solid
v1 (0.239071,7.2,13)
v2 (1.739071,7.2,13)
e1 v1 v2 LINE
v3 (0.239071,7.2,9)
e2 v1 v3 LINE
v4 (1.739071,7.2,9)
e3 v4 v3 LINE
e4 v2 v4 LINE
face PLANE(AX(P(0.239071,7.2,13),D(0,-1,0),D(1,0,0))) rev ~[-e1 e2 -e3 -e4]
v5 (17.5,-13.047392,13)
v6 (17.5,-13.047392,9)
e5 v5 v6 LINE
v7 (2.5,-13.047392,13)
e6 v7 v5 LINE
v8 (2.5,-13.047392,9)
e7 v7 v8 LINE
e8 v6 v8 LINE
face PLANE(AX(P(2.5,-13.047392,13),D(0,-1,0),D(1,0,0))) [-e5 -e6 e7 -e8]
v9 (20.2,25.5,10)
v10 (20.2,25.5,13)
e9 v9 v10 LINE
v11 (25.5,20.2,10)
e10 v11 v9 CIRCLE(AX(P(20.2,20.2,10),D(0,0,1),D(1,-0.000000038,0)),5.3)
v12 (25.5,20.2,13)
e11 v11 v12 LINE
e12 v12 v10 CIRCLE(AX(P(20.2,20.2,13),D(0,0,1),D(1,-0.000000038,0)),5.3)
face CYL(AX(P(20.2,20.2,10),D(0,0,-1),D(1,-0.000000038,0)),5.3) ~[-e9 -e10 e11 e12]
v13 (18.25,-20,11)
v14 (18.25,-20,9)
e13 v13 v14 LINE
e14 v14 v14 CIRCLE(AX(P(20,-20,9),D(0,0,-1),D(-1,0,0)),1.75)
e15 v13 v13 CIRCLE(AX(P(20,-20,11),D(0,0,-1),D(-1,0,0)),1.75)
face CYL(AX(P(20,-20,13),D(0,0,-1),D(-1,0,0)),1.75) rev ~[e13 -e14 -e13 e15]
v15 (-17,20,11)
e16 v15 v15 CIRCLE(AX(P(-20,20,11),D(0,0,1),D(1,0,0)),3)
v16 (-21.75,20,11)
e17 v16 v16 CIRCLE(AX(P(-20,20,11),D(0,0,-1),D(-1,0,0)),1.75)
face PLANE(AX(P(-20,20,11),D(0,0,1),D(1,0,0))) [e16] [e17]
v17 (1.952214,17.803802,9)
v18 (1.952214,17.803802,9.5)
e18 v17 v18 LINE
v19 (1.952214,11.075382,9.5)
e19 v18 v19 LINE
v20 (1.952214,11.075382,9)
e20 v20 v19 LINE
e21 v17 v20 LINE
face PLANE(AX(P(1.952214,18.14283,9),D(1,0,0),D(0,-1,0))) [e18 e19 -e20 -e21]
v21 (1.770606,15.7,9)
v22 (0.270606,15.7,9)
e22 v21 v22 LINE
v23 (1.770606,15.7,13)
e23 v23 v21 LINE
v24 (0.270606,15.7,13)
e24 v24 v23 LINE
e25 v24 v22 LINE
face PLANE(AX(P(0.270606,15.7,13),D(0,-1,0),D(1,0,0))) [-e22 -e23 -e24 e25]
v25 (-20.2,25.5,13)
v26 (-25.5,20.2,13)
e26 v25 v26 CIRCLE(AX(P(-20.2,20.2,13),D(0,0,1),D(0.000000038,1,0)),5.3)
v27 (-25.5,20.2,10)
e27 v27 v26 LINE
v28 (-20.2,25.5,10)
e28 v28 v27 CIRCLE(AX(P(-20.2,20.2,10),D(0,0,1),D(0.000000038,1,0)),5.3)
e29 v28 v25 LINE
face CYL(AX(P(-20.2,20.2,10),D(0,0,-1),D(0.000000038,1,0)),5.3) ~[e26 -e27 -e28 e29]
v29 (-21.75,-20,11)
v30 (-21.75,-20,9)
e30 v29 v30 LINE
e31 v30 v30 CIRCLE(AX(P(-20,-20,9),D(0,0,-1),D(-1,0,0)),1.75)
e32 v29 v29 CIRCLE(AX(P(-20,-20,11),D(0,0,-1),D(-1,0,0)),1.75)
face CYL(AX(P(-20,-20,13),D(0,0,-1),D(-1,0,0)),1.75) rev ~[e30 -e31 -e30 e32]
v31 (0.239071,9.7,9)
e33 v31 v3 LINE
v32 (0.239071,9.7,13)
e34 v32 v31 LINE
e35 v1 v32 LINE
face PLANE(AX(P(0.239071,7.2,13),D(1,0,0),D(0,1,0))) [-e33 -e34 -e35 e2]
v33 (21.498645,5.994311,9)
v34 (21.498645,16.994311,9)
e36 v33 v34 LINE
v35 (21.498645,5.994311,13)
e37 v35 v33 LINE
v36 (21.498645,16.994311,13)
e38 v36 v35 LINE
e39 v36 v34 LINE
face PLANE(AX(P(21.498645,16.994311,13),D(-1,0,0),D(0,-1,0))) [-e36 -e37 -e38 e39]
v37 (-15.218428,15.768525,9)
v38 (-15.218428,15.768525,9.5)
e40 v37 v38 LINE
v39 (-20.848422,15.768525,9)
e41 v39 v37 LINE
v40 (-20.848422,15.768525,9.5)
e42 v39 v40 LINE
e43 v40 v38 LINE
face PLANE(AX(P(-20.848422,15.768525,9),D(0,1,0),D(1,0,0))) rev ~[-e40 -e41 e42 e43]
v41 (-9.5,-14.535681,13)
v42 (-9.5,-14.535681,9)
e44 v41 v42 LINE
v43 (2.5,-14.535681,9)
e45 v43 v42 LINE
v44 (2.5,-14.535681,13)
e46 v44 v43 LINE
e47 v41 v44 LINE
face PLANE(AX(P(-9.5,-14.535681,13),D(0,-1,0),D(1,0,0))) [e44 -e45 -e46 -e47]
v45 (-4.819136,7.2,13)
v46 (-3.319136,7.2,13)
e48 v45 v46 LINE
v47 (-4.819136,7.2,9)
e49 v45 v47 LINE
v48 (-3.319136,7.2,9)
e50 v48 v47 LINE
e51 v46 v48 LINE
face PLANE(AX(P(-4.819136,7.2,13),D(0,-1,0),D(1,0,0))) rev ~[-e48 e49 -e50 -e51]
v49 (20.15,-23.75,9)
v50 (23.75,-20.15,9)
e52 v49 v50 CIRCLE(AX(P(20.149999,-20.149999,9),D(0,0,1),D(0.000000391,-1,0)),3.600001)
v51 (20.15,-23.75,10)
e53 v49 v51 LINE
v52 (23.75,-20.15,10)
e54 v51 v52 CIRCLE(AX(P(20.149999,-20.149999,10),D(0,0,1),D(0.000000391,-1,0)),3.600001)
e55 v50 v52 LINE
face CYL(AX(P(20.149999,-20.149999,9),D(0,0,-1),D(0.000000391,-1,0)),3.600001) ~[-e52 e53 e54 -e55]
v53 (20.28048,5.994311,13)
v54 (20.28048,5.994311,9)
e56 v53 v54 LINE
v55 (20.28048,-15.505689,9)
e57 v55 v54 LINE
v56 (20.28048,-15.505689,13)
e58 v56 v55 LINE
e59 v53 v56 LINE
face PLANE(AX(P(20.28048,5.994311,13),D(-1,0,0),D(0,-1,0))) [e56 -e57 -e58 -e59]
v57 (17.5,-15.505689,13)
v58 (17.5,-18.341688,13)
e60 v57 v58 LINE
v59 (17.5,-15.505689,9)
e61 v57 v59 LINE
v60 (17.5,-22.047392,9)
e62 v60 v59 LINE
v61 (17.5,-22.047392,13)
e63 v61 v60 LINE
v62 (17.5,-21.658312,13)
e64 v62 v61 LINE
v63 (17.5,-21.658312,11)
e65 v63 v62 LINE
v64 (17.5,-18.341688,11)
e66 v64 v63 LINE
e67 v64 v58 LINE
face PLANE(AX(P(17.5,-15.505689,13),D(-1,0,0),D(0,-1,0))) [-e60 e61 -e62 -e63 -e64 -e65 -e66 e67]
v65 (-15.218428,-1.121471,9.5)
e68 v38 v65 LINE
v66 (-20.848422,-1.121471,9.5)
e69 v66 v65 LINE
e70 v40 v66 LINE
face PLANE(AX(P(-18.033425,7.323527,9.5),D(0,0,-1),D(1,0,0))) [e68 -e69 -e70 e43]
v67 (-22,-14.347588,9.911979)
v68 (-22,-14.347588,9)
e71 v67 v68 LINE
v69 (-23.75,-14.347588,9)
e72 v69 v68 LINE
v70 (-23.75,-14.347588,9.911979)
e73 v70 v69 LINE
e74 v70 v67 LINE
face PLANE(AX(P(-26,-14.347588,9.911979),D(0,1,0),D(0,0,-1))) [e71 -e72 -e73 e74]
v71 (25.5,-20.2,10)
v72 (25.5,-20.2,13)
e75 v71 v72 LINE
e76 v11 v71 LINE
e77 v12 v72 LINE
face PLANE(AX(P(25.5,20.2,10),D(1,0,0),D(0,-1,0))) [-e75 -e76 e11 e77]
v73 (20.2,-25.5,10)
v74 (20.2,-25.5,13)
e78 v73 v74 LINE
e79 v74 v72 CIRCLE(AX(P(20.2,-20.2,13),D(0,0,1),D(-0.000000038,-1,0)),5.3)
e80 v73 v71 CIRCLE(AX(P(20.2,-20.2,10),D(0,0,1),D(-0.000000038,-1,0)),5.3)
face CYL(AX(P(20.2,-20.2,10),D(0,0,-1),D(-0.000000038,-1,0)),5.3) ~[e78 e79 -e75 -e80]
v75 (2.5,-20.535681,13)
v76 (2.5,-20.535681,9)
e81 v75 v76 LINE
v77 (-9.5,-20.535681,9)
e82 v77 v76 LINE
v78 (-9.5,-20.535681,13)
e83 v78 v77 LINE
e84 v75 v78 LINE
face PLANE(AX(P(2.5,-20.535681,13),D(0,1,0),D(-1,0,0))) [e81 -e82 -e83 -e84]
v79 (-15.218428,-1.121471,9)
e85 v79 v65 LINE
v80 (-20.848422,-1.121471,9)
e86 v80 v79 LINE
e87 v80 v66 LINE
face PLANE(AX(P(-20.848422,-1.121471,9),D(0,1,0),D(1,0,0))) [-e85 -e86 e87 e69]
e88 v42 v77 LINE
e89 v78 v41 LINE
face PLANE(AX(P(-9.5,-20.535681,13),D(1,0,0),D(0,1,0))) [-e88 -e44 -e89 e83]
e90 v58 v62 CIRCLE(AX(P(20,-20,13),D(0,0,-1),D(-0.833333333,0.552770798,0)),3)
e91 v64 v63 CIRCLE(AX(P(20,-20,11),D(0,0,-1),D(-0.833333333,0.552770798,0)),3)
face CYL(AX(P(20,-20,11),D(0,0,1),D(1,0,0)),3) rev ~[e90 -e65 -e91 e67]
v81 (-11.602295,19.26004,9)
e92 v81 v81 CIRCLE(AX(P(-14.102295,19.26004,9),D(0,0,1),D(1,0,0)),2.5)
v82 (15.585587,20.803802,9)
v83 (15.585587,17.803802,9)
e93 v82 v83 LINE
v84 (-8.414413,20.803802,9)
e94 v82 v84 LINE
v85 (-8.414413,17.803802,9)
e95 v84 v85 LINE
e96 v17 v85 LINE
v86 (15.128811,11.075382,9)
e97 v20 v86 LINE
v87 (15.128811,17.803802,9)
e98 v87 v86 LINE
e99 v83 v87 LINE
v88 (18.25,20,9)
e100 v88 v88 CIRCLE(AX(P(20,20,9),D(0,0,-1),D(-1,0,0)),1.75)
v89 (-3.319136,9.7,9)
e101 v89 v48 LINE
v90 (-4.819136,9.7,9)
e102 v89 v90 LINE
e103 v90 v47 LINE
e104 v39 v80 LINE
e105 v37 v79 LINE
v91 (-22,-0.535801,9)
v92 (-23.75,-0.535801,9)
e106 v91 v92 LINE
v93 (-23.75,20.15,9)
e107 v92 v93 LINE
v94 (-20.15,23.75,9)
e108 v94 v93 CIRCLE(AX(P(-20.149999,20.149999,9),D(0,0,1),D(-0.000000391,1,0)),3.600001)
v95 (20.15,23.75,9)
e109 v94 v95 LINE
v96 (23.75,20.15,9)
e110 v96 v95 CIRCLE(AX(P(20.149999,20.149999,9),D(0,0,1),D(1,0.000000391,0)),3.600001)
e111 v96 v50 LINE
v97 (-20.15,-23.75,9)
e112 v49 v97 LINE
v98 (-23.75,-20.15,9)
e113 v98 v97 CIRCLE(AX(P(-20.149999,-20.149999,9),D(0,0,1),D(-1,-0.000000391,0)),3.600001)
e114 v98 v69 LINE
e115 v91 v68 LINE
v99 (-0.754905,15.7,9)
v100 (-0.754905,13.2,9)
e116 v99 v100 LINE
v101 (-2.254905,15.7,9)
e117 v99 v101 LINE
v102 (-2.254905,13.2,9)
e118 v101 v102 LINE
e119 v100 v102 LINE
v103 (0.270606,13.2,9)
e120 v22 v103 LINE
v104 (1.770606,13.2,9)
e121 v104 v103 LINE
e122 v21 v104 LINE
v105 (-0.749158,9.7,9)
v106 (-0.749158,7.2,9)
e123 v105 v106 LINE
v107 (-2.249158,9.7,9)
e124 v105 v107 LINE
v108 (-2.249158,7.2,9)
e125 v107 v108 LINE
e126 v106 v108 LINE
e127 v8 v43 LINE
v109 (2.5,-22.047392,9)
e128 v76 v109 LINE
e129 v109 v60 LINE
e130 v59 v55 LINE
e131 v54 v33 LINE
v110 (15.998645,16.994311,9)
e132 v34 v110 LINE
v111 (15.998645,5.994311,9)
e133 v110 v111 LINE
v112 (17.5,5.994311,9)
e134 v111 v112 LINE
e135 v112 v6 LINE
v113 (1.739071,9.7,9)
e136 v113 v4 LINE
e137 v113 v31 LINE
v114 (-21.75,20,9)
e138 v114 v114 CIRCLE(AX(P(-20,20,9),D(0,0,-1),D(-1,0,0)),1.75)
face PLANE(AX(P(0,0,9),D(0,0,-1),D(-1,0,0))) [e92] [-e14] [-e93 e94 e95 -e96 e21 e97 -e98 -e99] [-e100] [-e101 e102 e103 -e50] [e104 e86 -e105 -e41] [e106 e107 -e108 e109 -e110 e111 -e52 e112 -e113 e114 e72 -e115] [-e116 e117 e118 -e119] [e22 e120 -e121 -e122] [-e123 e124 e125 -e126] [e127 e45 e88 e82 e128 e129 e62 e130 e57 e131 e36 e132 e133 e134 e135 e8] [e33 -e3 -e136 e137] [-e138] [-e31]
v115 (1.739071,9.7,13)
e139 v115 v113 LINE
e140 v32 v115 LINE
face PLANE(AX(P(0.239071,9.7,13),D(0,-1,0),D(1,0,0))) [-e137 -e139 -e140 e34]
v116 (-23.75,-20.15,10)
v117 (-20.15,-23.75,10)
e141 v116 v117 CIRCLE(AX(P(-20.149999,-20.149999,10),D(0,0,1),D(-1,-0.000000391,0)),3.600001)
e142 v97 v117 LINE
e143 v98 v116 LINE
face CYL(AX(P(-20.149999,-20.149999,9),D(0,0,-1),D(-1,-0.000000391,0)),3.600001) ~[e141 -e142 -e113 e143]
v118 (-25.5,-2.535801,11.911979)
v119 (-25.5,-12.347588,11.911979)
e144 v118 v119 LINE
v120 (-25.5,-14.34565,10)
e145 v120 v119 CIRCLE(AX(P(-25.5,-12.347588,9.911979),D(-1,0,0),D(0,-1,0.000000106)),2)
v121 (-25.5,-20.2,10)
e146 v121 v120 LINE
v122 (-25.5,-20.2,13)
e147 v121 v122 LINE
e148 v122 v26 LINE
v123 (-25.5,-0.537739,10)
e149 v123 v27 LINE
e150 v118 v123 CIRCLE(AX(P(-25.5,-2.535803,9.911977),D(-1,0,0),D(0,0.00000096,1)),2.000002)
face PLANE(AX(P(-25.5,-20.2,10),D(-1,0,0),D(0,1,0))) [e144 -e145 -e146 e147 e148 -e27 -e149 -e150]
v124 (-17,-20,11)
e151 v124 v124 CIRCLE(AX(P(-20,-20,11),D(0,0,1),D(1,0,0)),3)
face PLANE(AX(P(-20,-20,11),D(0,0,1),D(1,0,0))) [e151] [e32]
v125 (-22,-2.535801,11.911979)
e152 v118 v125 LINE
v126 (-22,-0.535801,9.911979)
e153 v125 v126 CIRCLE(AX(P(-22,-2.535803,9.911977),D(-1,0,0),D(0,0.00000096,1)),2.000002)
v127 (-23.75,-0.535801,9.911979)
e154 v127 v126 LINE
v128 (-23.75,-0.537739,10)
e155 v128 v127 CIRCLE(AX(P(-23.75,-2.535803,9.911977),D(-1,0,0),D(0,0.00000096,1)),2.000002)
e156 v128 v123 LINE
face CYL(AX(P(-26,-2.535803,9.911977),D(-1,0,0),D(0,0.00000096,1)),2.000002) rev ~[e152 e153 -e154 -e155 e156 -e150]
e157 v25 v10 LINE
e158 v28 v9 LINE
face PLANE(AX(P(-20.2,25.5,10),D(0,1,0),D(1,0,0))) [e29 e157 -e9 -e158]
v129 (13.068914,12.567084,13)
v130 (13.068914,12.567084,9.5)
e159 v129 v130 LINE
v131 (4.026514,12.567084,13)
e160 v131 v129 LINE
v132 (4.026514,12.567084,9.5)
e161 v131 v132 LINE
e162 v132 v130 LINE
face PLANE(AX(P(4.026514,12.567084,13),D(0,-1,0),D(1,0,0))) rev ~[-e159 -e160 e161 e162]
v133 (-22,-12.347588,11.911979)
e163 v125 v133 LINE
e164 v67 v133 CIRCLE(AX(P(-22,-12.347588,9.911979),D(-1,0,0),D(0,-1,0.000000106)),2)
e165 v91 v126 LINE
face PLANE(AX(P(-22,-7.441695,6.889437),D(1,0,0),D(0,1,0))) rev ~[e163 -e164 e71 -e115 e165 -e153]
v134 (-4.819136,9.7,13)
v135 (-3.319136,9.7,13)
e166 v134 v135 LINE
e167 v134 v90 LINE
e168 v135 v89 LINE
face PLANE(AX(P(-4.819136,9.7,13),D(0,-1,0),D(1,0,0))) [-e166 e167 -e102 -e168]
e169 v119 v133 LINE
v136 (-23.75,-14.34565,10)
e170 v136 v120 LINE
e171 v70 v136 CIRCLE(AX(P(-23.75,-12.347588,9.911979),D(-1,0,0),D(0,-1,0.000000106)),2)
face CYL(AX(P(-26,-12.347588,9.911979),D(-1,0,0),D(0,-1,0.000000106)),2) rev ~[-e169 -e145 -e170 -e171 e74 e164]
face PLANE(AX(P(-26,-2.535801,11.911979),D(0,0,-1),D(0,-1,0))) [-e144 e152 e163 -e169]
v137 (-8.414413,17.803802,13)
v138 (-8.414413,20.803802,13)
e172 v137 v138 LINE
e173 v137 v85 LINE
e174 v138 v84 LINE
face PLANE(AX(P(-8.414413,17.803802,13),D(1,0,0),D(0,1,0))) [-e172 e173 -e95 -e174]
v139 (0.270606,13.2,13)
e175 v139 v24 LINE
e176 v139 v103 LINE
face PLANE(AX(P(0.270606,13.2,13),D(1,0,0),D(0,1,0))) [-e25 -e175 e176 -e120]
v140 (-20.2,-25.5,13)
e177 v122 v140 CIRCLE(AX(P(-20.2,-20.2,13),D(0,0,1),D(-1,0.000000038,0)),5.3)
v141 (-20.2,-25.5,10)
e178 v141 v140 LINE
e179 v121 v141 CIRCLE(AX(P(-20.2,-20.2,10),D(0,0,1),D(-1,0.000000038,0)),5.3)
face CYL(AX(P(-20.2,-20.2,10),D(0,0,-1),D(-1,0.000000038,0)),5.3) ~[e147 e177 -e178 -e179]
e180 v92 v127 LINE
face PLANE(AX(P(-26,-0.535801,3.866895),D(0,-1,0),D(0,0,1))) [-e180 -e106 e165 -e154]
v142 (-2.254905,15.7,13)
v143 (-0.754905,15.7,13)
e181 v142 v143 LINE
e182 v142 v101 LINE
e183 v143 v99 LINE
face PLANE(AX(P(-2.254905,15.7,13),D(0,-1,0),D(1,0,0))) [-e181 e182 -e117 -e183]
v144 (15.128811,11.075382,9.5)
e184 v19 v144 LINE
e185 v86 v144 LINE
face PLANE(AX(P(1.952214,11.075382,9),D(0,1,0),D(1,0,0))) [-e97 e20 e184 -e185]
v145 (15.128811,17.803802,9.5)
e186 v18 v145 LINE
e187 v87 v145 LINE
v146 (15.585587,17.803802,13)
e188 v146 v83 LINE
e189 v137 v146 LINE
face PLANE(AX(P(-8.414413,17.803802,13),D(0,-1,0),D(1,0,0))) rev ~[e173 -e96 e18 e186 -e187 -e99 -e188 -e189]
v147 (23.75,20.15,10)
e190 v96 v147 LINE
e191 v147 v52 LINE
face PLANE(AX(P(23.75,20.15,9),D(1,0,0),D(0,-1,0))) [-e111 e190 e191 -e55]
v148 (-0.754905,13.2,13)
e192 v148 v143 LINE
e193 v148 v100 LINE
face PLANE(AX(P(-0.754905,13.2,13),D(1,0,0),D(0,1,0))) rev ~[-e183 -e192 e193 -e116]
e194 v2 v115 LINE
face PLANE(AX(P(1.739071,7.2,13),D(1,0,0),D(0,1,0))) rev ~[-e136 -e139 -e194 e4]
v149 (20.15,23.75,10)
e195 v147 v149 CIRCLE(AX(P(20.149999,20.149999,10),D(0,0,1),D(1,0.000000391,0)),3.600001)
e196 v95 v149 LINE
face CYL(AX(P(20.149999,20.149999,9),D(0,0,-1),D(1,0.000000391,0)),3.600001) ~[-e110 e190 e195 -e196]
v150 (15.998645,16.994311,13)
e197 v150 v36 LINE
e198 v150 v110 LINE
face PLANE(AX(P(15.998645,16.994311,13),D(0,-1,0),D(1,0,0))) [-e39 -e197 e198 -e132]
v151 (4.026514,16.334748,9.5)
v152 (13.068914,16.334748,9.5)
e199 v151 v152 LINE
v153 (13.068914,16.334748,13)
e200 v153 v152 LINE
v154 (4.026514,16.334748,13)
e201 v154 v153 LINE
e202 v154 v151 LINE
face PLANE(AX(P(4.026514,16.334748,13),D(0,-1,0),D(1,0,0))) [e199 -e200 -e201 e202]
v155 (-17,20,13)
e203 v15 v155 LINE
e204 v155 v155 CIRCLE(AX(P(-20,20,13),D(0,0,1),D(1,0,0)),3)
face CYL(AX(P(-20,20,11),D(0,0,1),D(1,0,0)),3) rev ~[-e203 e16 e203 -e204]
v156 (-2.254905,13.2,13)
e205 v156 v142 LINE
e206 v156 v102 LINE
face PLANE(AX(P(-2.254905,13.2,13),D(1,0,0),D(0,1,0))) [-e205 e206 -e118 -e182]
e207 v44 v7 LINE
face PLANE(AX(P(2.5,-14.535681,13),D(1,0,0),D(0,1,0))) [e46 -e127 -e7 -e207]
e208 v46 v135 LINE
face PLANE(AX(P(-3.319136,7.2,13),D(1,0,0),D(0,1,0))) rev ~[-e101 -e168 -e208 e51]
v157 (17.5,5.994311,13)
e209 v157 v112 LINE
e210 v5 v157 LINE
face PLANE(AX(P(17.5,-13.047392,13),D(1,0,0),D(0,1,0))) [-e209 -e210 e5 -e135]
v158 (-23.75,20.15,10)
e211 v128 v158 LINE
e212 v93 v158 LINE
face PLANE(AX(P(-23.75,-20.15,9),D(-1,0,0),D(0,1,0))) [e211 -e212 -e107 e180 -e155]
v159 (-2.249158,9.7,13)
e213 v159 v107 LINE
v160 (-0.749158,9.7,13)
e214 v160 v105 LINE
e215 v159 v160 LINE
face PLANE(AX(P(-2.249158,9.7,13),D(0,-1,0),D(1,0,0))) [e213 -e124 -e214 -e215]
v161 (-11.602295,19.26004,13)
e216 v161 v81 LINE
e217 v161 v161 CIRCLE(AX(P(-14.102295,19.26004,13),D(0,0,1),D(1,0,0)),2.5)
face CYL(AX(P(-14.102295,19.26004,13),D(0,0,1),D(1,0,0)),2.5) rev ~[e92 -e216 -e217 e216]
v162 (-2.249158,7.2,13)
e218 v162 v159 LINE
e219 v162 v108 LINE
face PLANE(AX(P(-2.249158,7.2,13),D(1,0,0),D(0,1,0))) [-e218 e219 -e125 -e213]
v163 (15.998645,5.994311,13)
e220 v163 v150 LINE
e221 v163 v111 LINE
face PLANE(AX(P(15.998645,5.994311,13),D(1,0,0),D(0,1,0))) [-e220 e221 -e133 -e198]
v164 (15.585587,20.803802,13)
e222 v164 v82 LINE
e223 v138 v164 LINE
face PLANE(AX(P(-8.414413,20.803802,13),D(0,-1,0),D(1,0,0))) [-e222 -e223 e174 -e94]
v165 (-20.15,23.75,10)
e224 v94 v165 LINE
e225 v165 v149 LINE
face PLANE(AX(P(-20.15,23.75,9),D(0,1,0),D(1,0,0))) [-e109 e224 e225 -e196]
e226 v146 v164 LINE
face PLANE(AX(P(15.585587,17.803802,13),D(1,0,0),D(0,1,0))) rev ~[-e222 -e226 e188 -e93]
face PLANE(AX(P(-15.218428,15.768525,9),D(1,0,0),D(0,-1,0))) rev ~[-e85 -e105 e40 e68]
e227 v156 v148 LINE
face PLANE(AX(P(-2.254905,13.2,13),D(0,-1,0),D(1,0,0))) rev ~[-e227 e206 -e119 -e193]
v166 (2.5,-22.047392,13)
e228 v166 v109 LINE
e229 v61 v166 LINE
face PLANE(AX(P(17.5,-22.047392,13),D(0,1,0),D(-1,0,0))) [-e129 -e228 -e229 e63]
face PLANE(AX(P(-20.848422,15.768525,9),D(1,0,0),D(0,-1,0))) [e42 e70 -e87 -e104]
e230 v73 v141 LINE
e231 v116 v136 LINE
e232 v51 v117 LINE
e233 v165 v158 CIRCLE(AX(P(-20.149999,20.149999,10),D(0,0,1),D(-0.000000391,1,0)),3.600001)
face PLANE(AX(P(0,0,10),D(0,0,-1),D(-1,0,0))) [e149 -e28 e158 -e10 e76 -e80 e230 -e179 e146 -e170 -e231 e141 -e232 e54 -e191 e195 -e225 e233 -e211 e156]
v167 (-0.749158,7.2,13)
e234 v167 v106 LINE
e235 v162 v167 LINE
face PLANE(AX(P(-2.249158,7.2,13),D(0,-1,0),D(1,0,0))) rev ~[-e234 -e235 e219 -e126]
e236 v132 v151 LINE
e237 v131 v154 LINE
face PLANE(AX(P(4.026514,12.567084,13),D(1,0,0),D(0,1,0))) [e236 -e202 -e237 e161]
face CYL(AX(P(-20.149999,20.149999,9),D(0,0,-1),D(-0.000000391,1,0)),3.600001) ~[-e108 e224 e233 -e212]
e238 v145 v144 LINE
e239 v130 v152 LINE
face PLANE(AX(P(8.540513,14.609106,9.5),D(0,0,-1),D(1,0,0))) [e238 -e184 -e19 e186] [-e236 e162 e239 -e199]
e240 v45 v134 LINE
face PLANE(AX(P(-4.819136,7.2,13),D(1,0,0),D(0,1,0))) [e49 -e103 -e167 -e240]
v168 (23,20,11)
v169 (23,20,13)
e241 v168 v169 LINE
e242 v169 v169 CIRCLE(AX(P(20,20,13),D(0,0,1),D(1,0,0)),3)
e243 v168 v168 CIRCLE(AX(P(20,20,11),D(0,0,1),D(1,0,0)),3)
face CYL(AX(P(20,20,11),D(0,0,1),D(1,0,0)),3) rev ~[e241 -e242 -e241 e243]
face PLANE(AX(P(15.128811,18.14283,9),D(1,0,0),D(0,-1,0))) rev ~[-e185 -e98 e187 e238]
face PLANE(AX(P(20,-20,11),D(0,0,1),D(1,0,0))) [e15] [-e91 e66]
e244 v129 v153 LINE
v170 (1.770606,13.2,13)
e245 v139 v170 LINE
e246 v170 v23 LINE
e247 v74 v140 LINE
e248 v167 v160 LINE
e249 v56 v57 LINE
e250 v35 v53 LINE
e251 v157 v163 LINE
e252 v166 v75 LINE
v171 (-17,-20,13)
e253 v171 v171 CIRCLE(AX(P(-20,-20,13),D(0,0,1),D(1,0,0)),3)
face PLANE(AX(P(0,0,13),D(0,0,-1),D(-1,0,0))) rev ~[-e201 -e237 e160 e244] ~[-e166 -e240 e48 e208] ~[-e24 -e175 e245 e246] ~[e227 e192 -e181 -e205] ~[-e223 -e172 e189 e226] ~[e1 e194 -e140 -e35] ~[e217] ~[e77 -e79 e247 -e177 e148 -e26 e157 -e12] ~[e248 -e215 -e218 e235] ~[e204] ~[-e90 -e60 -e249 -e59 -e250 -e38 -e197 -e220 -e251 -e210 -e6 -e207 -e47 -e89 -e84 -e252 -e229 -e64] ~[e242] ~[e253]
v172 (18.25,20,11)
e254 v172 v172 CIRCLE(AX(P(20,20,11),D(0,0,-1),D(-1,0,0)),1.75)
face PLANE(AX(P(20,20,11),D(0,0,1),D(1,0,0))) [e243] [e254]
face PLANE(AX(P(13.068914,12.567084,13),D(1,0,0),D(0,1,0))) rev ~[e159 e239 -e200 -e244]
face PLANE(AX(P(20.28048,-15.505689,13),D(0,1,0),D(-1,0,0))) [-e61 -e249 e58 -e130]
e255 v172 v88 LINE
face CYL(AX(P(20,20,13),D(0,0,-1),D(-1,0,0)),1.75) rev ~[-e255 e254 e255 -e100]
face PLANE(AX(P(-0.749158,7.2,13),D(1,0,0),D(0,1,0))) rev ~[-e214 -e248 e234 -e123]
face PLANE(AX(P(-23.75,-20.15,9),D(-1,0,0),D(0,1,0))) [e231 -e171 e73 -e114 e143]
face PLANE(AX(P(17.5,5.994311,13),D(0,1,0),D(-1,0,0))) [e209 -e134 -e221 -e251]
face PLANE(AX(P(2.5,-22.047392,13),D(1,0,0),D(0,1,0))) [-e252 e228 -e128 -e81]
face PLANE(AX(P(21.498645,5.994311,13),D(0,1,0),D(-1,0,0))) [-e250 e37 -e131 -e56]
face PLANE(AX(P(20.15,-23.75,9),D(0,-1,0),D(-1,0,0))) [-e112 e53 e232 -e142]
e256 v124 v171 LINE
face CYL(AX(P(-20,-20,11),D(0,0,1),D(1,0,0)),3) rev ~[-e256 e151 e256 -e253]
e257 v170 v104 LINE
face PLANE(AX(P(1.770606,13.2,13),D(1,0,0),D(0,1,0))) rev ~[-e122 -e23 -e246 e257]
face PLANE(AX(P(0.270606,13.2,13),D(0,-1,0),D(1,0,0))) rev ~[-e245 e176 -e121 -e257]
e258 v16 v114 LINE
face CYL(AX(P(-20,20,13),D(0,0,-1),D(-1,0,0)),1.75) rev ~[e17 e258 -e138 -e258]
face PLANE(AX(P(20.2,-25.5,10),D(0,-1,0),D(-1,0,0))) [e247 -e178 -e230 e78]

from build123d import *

# Parameters (mm, degrees)
PAD005_DEPTH     = 4
PAD002_DEPTH     = 1
PAD003_DEPTH     = 3
HOLE_D           = 3.5
HOLE_CBORE_D     = 6
HOLE_CBORE_DEPTH = 2
SKETCH011_R      = 2.5
SKETCH011_W      = 9.042401
SKETCH011_H      = 3.767665
SKETCH011_W_2    = 24
SKETCH011_H_2    = 3
SKETCH011_W_3    = 1.5
SKETCH011_H_3    = 2.5
POCKET005_DEPTH  = 5
SKETCH012_W      = 5.629994
SKETCH012_H      = 16.889996
SKETCH012_W_2    = 13.176597
SKETCH012_H_2    = 7.067448
POCKET006_DEPTH  = 0.5


with BuildPart() as usb_c_cutter:
    # Sketch008 → Pad005 (new body)
    with BuildSketch(Plane(origin=(0, 0, 0), x_dir=(0, -1, 0), z_dir=(-1, 0, 0))):
        with BuildLine():
            Line((2.535801, 11.911979), (12.347588, 11.911979))
            ThreePointArc((14.347588, 9.911979), (13.761802, 11.326192), (12.347588, 11.911979))
            Line((14.347588, 9.911979), (14.347588, 3.866895))
            ThreePointArc((12.347588, 1.866895), (13.761802, 2.452682), (14.347588, 3.866895))
            Line((12.347588, 1.866895), (2.535801, 1.866895))
            ThreePointArc((0.535801, 3.866895), (1.121588, 2.452682), (2.535801, 1.866895))
            Line((0.535801, 3.866895), (0.535801, 9.911979))
            ThreePointArc((2.535801, 11.911979), (1.121588, 11.326192), (0.535801, 9.911979))
        make_face()
    extrude(amount=-PAD005_DEPTH)


with BuildPart() as usb_c_cutter_1:
    # Body002 placement: moved
    add(usb_c_cutter.part.moved(Location((-26, 0, 0))))


with BuildPart() as lid_pocketed:
    # Sketch005 → Pad002 (new body)
    with BuildSketch(Plane.XY.offset(7)):
        with BuildLine():
            Line((-20.15, 23.75), (20.15, 23.75))
            ThreePointArc((23.75, 20.15), (22.695584, 22.695584), (20.15, 23.75))
            Line((23.75, 20.15), (23.75, -20.15))
            ThreePointArc((20.15, -23.75), (22.695584, -22.695584), (23.75, -20.15))
            Line((20.15, -23.75), (-20.15, -23.75))
            ThreePointArc((-23.75, -20.15), (-22.695584, -22.695584), (-20.15, -23.75))
            Line((-23.75, -20.15), (-23.75, 20.15))
            ThreePointArc((-20.15, 23.75), (-22.695584, 22.695584), (-23.75, 20.15))
        make_face()
    extrude(amount=PAD002_DEPTH)

    # Sketch006 (on Face10 of Pad002) → Pad003 (join)
    with BuildSketch(Plane.XY.offset(8)):
        with BuildLine():
            Line((-20.2, 25.5), (20.2, 25.5))
            ThreePointArc((25.5, 20.2), (23.947666, 23.947666), (20.2, 25.5))
            Line((25.5, 20.2), (25.5, -20.2))
            ThreePointArc((20.2, -25.5), (23.947666, -23.947666), (25.5, -20.2))
            Line((20.2, -25.5), (-20.2, -25.5))
            ThreePointArc((-25.5, -20.2), (-23.947666, -23.947666), (-20.2, -25.5))
            Line((-25.5, -20.2), (-25.5, 20.2))
            ThreePointArc((-20.2, 25.5), (-23.947666, 23.947666), (-25.5, 20.2))
        make_face()
    extrude(amount=PAD003_DEPTH)

    # Hole (through all)
    with Locations(Plane.XY.offset(11)):
        with Locations((-20, 20), (20, 20), (20, -20), (-20, -20)):
            CounterBoreHole(HOLE_D / 2, HOLE_CBORE_D / 2, HOLE_CBORE_DEPTH)


with BuildPart() as lid_pocketed_1:
    # Body001 placement: moved
    add(lid_pocketed.part.moved(Location((0, 0, 2))))

    # Cut: cut USB-C Cutter
    add(usb_c_cutter_1.part, mode=Mode.SUBTRACT)

    # Sketch011 (on Face7 of BaseFeature001) → Pocket005 (cut)
    with BuildSketch(Plane.XY.offset(13)):
        with Locations((-14.102295, 19.26004)):
            Circle(SKETCH011_R)
        with Locations((8.547714, 14.450916)):
            Rectangle(SKETCH011_W, SKETCH011_H)
        Polygon((15.998645, 16.994311), (21.498645, 16.994311), (21.498645, 5.994311), (20.28048, 5.994311), (20.28048, -15.505689), (17.5, -15.505689), (17.5, -22.047392), (2.5, -22.047392), (2.5, -20.535681), (-9.5, -20.535681), (-9.5, -14.535681), (2.5, -14.535681), (2.5, -13.047392), (17.5, -13.047392), (17.5, 5.994311), (15.998645, 5.994311), align=None)
        with Locations((3.585587, 19.303802)):
            Rectangle(SKETCH011_W_2, SKETCH011_H_2)
        with Locations((-1.504905, 14.45)):
            Rectangle(SKETCH011_W_3, SKETCH011_H_3)
        with Locations((1.020606, 14.45)):
            Rectangle(SKETCH011_W_3, SKETCH011_H_3)
        with Locations((0.989071, 8.45)):
            Rectangle(SKETCH011_W_3, SKETCH011_H_3)
        with Locations((-1.499158, 8.45)):
            Rectangle(SKETCH011_W_3, SKETCH011_H_3)
        with Locations((-4.069136, 8.45)):
            Rectangle(SKETCH011_W_3, SKETCH011_H_3)
    extrude(amount=-POCKET005_DEPTH, mode=Mode.SUBTRACT)

    # Sketch012 (on Face76 of Pocket005) → Pocket006 (cut)
    with BuildSketch(Plane(origin=(0, 0, 9), x_dir=(1, 0, 0), z_dir=(0, 0, -1))):
        with Locations((-18.033425, -7.323527)):
            Rectangle(SKETCH012_W, SKETCH012_H)
        with Locations((8.540513, -14.609106)):
            Rectangle(SKETCH012_W_2, SKETCH012_H_2)
    extrude(amount=-POCKET006_DEPTH, mode=Mode.SUBTRACT)


solid = lid_pocketed_1.part
